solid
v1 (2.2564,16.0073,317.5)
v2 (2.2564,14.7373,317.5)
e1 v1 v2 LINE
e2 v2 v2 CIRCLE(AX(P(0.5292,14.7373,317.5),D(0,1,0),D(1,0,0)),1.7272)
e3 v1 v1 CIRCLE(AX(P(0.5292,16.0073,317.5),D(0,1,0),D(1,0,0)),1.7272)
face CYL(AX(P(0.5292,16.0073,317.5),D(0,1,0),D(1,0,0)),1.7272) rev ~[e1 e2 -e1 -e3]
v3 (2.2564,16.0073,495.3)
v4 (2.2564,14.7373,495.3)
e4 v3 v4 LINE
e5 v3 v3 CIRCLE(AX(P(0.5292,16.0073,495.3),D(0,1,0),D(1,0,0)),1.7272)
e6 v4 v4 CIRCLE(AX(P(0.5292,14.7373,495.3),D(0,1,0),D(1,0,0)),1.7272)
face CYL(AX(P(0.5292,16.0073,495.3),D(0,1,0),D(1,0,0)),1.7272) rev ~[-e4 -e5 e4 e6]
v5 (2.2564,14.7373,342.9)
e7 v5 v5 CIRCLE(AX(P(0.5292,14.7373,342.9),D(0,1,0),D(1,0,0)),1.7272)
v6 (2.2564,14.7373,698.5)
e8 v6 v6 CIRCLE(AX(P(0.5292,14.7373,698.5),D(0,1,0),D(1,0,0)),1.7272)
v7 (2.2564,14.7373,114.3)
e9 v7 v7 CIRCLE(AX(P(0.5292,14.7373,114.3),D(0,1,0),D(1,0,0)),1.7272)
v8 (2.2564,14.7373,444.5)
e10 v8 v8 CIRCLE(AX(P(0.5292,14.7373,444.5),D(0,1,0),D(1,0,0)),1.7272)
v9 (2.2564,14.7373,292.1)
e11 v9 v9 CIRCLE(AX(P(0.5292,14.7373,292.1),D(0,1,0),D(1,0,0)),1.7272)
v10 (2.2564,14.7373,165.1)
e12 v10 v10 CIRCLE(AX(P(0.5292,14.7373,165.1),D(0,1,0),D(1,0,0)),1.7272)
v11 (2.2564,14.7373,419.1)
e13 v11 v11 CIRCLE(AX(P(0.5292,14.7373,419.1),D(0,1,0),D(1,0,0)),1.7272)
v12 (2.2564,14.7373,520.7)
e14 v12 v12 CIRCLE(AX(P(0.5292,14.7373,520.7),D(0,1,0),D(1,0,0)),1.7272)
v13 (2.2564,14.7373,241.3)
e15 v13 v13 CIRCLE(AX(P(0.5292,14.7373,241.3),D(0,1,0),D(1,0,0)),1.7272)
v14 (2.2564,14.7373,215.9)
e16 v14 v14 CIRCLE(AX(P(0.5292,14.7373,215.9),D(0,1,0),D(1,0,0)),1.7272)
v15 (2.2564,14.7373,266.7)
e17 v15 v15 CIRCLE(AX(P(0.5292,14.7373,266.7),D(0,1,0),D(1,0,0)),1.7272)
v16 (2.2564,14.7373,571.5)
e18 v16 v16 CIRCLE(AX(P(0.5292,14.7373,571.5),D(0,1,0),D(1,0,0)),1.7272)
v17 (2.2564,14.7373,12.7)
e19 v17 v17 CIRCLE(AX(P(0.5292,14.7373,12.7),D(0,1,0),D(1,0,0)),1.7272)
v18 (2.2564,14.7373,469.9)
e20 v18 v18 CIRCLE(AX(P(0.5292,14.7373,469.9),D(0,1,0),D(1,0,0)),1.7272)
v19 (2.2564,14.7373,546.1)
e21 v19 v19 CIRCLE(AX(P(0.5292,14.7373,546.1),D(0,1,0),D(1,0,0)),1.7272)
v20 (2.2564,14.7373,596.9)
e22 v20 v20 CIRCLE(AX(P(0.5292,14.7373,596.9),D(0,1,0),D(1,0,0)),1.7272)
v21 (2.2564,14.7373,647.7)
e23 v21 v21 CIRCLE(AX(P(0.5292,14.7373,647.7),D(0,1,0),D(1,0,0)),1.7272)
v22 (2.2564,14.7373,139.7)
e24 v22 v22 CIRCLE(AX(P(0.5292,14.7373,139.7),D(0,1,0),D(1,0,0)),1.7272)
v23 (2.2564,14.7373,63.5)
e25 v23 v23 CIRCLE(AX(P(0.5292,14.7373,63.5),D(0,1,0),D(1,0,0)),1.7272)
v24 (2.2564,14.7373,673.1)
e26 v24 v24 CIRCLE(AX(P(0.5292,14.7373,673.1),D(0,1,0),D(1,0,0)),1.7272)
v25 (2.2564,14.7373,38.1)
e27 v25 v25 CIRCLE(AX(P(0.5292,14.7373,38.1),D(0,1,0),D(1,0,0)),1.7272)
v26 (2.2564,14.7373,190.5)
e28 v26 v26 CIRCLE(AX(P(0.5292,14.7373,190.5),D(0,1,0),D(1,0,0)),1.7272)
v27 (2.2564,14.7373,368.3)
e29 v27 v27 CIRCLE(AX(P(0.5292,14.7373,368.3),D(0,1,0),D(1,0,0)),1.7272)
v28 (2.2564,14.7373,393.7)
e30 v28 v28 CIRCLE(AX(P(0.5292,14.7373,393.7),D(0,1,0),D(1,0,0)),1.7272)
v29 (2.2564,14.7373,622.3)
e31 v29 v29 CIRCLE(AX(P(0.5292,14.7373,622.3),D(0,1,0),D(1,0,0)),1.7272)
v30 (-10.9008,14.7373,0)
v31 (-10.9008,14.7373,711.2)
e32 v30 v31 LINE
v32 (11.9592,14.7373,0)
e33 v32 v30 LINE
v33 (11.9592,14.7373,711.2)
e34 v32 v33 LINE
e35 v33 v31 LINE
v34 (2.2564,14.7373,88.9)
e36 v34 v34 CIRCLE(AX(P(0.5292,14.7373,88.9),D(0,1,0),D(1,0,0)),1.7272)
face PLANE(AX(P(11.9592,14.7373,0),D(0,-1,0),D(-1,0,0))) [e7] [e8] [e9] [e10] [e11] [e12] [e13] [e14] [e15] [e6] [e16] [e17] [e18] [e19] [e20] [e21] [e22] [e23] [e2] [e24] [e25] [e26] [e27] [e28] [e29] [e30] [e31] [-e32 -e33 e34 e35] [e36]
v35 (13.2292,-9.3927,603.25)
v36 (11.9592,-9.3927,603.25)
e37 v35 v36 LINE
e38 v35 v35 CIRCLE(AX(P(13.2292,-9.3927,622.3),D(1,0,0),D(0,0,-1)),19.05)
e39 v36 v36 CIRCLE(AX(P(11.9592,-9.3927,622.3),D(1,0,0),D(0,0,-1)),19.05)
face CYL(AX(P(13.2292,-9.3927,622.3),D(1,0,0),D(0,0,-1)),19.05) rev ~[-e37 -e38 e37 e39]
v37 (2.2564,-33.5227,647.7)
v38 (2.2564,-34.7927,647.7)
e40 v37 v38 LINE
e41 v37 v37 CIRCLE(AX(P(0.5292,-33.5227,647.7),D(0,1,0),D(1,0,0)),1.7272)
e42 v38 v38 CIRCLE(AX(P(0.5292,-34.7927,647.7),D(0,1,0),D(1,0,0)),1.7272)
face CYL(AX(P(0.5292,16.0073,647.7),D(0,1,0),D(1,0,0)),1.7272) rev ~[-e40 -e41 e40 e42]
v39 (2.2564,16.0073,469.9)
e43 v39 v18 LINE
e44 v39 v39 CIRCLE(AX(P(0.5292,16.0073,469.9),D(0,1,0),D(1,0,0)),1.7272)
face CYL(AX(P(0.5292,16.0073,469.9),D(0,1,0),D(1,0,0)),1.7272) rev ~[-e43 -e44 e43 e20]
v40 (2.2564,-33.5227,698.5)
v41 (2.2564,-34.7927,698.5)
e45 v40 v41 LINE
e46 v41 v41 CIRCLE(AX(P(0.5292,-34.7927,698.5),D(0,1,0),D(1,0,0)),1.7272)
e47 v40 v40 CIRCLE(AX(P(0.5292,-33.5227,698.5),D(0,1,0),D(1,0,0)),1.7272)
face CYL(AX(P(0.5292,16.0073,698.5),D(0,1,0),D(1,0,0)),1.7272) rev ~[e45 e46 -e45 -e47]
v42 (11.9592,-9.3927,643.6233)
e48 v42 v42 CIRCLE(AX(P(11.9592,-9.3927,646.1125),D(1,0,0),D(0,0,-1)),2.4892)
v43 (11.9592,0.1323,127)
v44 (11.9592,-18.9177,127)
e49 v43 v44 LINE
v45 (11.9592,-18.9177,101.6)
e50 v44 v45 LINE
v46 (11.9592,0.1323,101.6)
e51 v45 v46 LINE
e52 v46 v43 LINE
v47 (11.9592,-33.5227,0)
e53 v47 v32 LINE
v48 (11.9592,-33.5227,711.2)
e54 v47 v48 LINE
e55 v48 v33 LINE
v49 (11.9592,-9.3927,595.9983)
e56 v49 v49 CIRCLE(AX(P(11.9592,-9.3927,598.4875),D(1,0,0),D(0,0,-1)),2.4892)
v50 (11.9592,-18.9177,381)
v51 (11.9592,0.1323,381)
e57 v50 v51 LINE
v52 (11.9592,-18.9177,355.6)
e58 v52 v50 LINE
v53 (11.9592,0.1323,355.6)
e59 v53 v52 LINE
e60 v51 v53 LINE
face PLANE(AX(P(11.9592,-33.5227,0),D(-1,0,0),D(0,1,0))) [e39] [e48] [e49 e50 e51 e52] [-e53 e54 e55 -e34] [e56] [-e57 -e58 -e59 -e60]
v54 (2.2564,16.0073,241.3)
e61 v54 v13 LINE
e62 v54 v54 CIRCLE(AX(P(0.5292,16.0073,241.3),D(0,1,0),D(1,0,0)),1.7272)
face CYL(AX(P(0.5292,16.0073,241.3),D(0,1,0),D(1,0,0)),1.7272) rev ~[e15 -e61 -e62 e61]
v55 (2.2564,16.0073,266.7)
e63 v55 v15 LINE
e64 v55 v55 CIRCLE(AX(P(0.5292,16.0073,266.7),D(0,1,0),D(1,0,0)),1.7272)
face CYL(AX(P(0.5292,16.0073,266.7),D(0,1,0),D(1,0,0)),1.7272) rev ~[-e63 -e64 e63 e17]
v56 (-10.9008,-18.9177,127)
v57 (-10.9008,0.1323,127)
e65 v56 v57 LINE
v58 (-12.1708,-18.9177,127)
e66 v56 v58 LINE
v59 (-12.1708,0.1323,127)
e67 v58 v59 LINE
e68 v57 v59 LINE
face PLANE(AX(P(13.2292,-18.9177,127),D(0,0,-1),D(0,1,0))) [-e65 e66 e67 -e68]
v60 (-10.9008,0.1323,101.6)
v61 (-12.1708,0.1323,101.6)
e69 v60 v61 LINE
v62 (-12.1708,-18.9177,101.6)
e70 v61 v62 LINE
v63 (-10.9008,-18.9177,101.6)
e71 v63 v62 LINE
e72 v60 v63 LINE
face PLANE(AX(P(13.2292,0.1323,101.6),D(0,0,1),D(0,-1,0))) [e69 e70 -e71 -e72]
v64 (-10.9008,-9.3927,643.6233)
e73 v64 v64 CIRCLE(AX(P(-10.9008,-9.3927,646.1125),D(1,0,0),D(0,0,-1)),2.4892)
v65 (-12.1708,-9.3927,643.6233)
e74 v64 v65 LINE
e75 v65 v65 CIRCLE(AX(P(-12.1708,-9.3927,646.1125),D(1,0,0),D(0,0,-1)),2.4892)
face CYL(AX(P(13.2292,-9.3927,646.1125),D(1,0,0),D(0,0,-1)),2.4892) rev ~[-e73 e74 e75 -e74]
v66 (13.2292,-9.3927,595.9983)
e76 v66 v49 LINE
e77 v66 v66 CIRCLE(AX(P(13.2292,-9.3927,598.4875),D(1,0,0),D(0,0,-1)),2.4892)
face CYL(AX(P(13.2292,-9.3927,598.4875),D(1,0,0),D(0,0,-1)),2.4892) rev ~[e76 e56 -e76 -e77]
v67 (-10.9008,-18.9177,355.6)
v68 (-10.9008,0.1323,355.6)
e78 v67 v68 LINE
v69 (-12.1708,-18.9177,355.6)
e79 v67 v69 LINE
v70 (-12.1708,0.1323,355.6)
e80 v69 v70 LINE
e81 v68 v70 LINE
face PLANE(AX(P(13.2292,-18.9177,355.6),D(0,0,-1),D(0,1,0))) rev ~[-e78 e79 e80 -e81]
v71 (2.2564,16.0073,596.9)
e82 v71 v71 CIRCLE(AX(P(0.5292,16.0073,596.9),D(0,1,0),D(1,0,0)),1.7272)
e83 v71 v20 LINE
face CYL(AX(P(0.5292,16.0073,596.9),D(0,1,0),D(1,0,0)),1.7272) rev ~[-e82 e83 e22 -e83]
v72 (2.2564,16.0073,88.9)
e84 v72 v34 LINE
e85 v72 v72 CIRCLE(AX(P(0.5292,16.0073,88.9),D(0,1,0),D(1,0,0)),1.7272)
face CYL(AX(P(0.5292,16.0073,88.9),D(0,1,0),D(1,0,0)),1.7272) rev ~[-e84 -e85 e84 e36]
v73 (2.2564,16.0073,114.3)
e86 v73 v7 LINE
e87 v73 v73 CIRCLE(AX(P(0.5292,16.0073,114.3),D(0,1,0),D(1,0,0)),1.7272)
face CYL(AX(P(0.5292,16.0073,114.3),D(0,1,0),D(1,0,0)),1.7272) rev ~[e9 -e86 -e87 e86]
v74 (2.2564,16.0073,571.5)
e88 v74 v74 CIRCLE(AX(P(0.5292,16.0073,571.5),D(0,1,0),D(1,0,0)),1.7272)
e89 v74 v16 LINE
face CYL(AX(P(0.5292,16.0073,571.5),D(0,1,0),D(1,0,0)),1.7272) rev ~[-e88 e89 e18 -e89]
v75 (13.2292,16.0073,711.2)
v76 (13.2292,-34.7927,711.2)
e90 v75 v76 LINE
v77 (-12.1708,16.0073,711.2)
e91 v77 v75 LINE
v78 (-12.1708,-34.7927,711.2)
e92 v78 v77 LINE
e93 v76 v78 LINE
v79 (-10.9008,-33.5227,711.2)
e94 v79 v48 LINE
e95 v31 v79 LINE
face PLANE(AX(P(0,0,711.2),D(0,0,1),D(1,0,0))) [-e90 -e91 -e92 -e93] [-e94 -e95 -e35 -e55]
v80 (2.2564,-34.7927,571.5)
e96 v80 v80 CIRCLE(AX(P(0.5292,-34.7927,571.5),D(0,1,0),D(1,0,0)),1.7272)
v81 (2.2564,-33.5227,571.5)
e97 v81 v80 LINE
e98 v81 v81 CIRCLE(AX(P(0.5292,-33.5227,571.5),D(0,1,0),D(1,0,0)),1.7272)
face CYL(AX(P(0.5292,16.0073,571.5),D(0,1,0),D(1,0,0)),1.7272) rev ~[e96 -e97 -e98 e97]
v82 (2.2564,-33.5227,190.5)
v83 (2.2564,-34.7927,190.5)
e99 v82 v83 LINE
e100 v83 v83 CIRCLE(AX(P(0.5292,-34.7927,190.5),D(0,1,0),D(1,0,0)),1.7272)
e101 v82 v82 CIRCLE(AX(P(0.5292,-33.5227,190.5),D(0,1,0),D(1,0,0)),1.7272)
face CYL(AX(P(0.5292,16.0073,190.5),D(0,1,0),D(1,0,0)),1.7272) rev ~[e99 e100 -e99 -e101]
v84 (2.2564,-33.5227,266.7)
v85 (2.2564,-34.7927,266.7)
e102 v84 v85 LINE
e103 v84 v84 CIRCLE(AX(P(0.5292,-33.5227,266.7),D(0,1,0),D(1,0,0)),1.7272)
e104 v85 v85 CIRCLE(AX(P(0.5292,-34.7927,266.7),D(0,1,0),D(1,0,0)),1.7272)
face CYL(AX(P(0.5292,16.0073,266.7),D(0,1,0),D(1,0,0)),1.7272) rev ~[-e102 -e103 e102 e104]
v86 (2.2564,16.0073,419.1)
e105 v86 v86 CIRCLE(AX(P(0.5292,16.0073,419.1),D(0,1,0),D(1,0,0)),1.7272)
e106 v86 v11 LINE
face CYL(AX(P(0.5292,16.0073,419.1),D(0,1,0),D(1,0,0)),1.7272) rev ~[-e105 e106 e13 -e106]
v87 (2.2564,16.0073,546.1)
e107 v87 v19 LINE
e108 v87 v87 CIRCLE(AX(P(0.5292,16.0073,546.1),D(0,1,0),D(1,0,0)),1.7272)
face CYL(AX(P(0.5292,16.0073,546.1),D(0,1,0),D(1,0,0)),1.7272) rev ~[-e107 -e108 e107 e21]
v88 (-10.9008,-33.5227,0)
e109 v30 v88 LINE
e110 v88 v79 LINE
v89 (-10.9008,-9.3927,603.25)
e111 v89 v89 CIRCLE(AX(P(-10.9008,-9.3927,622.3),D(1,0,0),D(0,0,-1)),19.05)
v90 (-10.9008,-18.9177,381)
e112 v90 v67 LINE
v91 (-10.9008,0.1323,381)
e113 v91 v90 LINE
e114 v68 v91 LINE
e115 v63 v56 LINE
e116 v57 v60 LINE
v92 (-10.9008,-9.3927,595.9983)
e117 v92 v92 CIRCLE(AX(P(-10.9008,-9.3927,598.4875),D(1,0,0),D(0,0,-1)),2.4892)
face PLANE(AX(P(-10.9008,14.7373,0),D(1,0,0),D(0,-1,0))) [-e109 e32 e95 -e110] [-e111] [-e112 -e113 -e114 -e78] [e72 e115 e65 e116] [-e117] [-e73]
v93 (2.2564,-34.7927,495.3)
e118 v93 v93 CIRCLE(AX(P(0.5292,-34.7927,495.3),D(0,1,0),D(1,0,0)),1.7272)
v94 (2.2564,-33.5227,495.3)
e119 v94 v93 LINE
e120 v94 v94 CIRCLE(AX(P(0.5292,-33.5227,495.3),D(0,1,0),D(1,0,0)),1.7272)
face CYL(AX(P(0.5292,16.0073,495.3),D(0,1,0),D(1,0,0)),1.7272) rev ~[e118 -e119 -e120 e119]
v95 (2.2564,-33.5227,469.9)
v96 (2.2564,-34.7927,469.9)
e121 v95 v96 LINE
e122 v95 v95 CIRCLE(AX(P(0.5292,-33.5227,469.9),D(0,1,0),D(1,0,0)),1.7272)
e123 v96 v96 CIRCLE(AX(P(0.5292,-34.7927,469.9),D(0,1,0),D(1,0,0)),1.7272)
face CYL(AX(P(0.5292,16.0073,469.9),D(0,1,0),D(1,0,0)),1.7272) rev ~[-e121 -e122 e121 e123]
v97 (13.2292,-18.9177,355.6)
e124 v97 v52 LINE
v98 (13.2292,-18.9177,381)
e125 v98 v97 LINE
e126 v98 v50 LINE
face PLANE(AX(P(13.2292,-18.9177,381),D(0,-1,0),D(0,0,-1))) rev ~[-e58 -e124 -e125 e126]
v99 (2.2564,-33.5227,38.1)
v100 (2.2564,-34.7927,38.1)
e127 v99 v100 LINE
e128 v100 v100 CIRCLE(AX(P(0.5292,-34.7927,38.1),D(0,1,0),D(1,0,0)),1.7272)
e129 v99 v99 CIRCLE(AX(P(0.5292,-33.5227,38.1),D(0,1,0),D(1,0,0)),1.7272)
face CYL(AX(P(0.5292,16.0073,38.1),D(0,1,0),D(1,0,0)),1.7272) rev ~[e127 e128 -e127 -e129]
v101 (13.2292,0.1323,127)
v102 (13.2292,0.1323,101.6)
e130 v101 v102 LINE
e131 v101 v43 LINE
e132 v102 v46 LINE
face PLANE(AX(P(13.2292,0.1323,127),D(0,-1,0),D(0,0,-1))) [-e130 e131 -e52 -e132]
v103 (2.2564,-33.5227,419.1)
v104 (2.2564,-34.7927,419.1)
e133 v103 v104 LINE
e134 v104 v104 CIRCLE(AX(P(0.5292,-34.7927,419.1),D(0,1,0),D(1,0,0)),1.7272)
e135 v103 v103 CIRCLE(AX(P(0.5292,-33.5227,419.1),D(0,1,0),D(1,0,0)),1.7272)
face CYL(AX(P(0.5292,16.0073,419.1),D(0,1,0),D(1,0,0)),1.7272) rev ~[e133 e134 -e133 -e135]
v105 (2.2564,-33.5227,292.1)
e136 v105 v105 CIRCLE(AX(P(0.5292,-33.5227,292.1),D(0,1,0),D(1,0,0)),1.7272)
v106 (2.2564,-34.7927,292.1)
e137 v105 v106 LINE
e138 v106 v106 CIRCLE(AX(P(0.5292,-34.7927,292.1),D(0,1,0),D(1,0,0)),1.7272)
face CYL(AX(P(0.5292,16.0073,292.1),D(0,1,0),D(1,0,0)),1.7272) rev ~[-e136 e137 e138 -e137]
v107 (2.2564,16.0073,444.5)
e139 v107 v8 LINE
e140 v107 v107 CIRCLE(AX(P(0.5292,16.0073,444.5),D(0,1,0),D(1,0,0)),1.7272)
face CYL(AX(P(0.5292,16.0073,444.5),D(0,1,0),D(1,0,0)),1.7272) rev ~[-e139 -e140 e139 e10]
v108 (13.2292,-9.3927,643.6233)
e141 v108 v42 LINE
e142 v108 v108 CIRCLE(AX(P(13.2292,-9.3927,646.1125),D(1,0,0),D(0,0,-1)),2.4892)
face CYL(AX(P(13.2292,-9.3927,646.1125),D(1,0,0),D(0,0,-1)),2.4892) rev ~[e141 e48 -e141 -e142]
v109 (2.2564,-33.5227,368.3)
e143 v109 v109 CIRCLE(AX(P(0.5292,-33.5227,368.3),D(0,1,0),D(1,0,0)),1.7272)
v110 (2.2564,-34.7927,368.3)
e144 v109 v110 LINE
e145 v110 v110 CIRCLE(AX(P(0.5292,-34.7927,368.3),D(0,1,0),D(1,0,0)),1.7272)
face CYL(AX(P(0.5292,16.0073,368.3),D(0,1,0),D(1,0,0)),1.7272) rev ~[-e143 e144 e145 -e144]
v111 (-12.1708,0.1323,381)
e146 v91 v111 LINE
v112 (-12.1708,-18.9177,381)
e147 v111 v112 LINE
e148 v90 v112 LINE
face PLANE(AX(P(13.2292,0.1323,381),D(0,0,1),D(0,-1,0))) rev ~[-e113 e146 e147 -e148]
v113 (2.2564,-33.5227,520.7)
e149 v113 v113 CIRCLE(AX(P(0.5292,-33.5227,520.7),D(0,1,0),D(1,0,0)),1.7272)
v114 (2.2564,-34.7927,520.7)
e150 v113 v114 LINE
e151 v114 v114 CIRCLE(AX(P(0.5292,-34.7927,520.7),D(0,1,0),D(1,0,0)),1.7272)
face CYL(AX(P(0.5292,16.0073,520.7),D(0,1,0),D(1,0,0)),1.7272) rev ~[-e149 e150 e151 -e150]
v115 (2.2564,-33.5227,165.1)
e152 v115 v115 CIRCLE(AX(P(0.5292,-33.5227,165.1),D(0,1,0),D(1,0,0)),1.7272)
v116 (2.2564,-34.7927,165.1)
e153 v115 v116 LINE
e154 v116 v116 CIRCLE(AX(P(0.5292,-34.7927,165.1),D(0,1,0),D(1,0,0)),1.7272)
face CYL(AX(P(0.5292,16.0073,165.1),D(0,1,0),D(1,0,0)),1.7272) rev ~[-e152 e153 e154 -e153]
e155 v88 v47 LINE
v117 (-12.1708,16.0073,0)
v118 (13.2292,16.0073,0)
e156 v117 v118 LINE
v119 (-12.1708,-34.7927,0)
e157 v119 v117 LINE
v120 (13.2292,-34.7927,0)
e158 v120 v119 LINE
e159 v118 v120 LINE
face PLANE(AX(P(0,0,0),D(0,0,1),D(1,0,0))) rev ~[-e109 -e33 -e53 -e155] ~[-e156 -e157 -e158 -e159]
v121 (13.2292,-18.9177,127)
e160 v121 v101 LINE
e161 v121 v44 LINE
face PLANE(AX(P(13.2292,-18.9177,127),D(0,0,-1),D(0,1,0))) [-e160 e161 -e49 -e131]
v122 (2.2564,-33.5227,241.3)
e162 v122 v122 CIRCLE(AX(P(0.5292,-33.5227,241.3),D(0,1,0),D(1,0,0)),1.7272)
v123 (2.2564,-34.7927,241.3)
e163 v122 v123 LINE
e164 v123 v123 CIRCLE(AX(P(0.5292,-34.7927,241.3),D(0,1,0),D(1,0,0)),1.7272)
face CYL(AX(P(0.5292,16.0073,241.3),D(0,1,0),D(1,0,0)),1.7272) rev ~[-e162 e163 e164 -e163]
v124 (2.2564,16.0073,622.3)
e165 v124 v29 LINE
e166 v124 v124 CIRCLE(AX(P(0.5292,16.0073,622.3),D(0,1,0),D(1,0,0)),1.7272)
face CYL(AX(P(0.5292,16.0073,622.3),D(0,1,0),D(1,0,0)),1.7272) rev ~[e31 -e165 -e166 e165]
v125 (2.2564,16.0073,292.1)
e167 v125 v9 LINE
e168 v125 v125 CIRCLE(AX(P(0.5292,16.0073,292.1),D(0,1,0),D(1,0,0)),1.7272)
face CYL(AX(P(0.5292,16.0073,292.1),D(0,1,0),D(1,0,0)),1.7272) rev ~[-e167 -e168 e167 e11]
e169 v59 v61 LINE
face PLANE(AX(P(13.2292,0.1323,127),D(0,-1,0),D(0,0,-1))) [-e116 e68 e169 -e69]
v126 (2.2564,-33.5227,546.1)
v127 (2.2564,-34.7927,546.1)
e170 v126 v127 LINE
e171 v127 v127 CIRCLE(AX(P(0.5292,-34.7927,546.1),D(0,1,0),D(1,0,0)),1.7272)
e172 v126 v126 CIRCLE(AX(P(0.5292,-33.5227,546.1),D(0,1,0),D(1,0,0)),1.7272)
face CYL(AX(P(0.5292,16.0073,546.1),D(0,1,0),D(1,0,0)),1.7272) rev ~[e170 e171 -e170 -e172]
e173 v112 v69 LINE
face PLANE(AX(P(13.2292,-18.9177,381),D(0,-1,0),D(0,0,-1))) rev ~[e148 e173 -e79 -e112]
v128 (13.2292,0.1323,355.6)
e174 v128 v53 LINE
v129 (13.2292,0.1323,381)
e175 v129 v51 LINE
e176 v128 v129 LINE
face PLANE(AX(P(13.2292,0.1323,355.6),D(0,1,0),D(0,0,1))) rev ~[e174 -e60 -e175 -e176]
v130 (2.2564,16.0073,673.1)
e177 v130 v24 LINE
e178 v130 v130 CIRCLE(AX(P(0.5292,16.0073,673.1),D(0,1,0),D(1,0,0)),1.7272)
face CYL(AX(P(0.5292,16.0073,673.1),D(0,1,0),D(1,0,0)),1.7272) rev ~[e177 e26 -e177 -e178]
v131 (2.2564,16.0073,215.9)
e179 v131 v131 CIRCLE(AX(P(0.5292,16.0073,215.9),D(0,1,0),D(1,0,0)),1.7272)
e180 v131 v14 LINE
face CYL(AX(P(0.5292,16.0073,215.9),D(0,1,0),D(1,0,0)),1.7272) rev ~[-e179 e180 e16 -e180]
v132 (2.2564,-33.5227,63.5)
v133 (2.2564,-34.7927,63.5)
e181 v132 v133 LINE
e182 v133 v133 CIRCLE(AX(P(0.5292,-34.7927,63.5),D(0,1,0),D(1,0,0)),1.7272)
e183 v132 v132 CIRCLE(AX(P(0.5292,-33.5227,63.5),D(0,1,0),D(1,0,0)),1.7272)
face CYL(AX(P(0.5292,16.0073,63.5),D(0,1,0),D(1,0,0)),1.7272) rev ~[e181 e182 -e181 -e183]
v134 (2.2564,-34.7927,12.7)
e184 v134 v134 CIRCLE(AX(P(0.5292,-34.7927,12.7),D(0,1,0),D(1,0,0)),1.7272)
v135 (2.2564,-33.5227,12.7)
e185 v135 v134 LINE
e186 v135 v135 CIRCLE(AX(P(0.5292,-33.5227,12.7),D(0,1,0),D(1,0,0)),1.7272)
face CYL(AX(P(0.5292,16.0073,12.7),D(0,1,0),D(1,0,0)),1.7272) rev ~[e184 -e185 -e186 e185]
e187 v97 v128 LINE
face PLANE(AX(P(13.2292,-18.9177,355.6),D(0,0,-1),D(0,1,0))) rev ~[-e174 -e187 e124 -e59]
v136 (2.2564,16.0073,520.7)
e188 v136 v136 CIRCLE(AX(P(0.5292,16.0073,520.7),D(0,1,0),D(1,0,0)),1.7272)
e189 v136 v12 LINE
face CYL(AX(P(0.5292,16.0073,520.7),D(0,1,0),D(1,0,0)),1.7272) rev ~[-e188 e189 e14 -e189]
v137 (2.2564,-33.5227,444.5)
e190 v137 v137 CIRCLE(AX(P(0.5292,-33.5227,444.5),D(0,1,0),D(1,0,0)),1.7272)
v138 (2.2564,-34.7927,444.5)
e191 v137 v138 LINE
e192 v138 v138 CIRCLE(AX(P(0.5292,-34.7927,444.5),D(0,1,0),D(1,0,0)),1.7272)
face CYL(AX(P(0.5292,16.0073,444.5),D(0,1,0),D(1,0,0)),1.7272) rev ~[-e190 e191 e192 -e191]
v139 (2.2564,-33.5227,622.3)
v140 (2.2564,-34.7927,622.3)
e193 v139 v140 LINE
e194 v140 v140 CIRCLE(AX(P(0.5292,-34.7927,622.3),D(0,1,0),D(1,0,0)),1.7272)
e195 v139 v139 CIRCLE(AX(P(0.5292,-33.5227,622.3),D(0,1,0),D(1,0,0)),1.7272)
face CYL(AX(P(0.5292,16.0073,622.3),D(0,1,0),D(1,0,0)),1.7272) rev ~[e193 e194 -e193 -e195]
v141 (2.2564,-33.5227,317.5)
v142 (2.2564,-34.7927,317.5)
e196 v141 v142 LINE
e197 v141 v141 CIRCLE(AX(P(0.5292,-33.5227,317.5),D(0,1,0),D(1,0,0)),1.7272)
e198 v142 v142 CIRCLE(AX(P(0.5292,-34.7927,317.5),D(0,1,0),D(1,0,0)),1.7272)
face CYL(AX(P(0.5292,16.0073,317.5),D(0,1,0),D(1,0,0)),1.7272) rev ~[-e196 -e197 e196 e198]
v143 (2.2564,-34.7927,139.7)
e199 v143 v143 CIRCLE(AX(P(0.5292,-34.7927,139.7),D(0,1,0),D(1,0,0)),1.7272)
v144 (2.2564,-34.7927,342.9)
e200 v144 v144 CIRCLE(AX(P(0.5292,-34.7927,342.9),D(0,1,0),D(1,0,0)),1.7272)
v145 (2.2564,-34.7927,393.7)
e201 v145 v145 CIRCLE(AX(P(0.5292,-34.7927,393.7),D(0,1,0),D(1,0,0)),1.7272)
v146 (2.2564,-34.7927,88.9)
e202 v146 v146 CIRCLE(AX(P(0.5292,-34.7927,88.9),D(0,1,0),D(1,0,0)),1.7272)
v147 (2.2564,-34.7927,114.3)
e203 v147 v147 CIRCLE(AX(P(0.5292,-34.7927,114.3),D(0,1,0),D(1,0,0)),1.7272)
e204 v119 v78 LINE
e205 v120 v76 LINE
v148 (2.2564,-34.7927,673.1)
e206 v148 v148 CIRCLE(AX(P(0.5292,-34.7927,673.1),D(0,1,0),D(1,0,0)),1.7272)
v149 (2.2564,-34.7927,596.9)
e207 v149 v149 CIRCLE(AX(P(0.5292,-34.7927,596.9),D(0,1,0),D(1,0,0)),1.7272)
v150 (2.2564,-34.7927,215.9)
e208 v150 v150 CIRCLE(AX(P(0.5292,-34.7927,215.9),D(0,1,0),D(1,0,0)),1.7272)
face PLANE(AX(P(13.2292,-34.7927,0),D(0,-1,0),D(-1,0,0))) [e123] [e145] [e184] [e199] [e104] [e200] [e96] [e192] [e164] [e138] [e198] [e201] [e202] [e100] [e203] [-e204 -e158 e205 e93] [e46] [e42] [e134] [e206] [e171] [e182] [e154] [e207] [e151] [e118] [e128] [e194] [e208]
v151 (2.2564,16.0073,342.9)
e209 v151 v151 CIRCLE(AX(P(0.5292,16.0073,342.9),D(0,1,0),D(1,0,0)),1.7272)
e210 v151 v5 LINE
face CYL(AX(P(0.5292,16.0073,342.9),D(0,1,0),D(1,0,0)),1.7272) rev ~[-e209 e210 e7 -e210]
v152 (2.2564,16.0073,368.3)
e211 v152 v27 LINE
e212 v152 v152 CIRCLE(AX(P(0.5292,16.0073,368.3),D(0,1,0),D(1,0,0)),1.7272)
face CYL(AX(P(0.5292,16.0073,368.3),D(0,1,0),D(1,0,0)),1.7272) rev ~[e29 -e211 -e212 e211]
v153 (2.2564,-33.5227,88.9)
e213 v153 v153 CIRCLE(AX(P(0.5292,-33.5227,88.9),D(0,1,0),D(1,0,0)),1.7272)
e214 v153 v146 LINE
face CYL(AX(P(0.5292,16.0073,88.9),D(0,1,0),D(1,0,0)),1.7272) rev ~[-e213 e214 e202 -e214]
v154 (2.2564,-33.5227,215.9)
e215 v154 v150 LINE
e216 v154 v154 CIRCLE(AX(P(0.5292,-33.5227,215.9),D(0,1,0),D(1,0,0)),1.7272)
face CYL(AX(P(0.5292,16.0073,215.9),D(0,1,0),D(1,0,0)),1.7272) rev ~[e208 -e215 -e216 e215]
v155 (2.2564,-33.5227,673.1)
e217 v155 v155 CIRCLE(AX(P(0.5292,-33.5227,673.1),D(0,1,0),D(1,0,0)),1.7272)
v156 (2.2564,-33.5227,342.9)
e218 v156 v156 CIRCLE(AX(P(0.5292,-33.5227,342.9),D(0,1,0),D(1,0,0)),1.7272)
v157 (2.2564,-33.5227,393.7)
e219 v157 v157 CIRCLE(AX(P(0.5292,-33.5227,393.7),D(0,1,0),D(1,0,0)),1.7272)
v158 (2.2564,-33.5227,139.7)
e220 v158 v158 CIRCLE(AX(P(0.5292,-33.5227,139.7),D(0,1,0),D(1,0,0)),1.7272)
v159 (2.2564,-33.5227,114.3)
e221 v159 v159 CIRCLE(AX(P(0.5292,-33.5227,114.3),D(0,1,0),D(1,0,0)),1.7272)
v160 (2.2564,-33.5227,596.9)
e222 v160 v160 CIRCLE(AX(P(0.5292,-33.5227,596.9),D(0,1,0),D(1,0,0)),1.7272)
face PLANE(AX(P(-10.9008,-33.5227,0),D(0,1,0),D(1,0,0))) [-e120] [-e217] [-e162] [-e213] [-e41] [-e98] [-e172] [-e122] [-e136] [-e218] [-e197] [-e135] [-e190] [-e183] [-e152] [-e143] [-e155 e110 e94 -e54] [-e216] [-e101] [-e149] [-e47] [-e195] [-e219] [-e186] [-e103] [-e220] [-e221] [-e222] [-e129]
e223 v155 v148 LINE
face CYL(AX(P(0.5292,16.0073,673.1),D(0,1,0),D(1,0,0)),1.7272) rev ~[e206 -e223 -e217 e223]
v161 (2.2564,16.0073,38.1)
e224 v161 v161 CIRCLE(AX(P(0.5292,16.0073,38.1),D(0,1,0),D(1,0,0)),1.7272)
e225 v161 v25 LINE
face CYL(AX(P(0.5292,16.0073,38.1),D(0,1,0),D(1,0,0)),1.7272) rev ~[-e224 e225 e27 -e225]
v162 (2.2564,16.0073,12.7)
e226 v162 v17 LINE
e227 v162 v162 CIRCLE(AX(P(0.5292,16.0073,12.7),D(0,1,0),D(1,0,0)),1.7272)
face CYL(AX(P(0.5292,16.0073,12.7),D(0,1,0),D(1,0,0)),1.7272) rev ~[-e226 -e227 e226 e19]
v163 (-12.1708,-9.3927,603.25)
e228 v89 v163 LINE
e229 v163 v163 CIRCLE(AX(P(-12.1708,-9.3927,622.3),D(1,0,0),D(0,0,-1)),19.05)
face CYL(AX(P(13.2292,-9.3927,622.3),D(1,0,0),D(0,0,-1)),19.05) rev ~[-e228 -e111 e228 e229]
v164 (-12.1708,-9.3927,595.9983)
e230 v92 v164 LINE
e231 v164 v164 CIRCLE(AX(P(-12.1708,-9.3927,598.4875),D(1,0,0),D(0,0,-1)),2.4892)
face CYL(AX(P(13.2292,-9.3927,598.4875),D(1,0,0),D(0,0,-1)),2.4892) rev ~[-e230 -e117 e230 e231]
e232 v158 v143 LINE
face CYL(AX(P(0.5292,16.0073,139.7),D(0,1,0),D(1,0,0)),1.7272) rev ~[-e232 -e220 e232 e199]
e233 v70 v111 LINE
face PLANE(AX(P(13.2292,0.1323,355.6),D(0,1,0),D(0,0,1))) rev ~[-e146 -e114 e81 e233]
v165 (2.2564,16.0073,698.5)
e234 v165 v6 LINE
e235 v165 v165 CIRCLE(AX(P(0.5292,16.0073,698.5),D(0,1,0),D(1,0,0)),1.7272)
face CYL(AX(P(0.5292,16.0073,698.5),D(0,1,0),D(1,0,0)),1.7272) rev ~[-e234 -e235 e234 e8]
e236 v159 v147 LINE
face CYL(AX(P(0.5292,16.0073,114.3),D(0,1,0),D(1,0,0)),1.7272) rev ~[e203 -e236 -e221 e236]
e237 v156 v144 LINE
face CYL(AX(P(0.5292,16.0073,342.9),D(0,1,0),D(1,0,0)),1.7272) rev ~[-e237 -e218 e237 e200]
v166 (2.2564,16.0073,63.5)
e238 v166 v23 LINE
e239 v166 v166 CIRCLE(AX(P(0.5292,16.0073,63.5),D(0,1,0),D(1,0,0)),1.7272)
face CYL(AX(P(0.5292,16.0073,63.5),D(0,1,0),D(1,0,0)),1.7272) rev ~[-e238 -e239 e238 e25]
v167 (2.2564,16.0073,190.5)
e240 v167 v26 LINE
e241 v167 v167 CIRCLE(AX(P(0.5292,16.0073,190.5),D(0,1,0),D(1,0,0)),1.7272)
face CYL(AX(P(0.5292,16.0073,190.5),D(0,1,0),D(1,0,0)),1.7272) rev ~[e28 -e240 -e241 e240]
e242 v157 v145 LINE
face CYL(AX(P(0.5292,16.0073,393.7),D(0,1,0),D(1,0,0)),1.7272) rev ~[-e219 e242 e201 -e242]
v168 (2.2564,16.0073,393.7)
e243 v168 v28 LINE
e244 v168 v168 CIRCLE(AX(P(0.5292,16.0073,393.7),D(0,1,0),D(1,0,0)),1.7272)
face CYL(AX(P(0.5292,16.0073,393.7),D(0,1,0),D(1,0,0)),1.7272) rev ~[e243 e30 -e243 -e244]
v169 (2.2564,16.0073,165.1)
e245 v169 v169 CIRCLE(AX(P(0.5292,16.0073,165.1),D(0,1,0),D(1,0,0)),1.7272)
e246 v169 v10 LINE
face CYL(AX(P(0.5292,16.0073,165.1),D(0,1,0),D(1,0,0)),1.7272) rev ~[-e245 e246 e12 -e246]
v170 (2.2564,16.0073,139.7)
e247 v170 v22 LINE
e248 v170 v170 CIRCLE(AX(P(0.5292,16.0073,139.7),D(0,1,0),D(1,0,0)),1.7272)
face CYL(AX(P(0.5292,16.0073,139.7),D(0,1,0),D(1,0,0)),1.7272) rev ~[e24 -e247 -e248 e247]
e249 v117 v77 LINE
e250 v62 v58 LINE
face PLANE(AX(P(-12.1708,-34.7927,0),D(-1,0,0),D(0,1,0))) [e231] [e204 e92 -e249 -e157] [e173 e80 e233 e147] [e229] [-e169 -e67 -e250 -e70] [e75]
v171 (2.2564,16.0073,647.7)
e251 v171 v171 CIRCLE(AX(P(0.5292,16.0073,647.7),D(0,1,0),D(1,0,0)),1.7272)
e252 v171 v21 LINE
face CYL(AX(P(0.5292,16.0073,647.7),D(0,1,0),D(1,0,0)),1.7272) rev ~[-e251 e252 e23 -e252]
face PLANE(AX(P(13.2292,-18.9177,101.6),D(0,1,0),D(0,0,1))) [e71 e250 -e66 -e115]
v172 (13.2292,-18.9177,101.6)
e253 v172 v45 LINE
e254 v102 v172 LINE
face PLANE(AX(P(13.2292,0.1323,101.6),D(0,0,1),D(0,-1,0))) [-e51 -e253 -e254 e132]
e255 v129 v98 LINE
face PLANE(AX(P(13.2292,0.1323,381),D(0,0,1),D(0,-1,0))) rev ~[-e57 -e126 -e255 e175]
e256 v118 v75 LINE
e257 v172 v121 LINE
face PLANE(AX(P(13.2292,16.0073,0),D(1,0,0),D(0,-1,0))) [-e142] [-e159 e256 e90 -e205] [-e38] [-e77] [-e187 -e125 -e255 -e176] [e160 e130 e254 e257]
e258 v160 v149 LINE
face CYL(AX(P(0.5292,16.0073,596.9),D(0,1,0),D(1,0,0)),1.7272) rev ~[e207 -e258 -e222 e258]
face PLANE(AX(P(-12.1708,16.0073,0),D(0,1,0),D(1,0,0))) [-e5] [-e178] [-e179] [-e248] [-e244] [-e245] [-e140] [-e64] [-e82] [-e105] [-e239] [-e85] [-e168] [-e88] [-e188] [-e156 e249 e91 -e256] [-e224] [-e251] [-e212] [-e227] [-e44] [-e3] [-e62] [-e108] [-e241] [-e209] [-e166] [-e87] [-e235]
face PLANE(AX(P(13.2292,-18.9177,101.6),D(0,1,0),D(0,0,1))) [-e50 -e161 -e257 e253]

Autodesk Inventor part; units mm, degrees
ref_plane "YZ Plane" through (0, 0, 0) normal (1, 0, 0) x (0, 1, 0)
ref_plane "XZ Plane" through (0, 0, 0) normal (0, 1, 0) x (-1, 0, 0)
ref_plane "XY Plane" through (0, 0, 0) normal (0, 0, 1) x (1, 0, 0)
sketch "Sketch1" plane through (0, 0, 0) normal (0, 0, 1) x (1, 0, 0)
  line L0 (-12.1708, 16.0073) -> (13.2292, 16.0073)
  line L1 (13.2292, 16.0073) -> (13.2292, -34.7927)
  line L2 (13.2292, -34.7927) -> (-12.1708, -34.7927)
  line L3 (-12.1708, -34.7927) -> (-12.1708, 16.0073)
  line L4 (11.9592, 14.7373) -> (-10.9008, 14.7373)
  line L5 (-10.9008, 14.7373) -> (-10.9008, -33.5227)
  line L6 (-10.9008, -33.5227) -> (11.9592, -33.5227)
  line L7 (11.9592, -33.5227) -> (11.9592, 14.7373)
  point P0 (0, 0)
  dimension "d0" = 25.4
  dimension "d1" = 50.8
  dimension "d2" = 1.27
extrude "Extrusion1" add sketch "Sketch1" along normal blind 711.2
sketch "Sketch2" plane through (-12.1708, 16.0073, 0) normal (0, 1, 0) x (1, 0, 0)
  circle A0 centre (12.7, -12.7) radius 1.7272
  line L0 (25.4, 0) -> (0, 0) projected
  line L1 (0, 0) -> (0, -711.2) projected
  point P0 (12.1708, 0)
  dimension "d5" = 3.4544
  dimension "d6" = 12.7
  dimension "d7" = 12.7
extrude "Extrusion2" cut sketch "Sketch2" against normal through all
pattern_linear "Rectangular Pattern1" count 71 spacing 25.4 along (0, 0, 1) of "Extrusion2"
sketch "Sketch3" plane through (13.2292, -34.7927, 0) normal (1, 0, 0) x (0, 0, -1)
  circle A0 centre (-622.3, 25.4) radius 19.05
  circle A1 centre (-622.3, 25.4) radius 23.8125 construction
  line L0 (-711.2, 1.27) -> (-711.2, 49.53) projected
  line L1 (-711.2, 25.4) -> (0, 25.4) construction
  circle A2 centre (-646.1125, 25.4) radius 2.4892
  circle A3 centre (-598.4875, 25.4) radius 2.4892
  line L2 (-355.6, 34.925) -> (-381, 34.925)
  line L3 (-381, 34.925) -> (-381, 15.875)
  line L4 (-381, 15.875) -> (-355.6, 15.875)
  line L5 (-355.6, 15.875) -> (-355.6, 34.925)
  line L6 (-355.6, 34.925) -> (-381, 15.875) construction
  line L7 (-381, 34.925) -> (-355.6, 15.875) construction
  line L8 (-127, 34.925) -> (-101.6, 34.925)
  line L9 (-101.6, 34.925) -> (-101.6, 15.875)
  line L10 (-101.6, 15.875) -> (-127, 15.875)
  line L11 (-127, 15.875) -> (-127, 34.925)
  line L12 (-127, 34.925) -> (-101.6, 15.875) construction
  line L13 (-101.6, 34.925) -> (-127, 15.875) construction
  circle A4 centre (-622.3, 25.4) radius 76.2 construction
  circle A5 centre (-368.3, 25.4) radius 76.2 construction
  circle A6 centre (-114.3, 25.4) radius 76.2 construction
  point P0 (0, 34.7927)
  dimension "d15" = 47.625
  dimension "d16" = 38.1
  dimension "d17" = 88.9
  dimension "d18" = 4.9784
  dimension "d19" = 152.4
  dimension "d20" = 25.4
  dimension "d21" = 19.05
  dimension "d22" = 254
  dimension "d23" = 254
extrude "Extrusion3" cut sketch "Sketch3" against normal blind 25.4
equation "\"d3\" = d13"
equation "\"d10\" = d14"
equation "\"d13\" = 711.2"
equation "\"d14\" = d13"
properties part number "VerseFrame 2021 28in Drive"
